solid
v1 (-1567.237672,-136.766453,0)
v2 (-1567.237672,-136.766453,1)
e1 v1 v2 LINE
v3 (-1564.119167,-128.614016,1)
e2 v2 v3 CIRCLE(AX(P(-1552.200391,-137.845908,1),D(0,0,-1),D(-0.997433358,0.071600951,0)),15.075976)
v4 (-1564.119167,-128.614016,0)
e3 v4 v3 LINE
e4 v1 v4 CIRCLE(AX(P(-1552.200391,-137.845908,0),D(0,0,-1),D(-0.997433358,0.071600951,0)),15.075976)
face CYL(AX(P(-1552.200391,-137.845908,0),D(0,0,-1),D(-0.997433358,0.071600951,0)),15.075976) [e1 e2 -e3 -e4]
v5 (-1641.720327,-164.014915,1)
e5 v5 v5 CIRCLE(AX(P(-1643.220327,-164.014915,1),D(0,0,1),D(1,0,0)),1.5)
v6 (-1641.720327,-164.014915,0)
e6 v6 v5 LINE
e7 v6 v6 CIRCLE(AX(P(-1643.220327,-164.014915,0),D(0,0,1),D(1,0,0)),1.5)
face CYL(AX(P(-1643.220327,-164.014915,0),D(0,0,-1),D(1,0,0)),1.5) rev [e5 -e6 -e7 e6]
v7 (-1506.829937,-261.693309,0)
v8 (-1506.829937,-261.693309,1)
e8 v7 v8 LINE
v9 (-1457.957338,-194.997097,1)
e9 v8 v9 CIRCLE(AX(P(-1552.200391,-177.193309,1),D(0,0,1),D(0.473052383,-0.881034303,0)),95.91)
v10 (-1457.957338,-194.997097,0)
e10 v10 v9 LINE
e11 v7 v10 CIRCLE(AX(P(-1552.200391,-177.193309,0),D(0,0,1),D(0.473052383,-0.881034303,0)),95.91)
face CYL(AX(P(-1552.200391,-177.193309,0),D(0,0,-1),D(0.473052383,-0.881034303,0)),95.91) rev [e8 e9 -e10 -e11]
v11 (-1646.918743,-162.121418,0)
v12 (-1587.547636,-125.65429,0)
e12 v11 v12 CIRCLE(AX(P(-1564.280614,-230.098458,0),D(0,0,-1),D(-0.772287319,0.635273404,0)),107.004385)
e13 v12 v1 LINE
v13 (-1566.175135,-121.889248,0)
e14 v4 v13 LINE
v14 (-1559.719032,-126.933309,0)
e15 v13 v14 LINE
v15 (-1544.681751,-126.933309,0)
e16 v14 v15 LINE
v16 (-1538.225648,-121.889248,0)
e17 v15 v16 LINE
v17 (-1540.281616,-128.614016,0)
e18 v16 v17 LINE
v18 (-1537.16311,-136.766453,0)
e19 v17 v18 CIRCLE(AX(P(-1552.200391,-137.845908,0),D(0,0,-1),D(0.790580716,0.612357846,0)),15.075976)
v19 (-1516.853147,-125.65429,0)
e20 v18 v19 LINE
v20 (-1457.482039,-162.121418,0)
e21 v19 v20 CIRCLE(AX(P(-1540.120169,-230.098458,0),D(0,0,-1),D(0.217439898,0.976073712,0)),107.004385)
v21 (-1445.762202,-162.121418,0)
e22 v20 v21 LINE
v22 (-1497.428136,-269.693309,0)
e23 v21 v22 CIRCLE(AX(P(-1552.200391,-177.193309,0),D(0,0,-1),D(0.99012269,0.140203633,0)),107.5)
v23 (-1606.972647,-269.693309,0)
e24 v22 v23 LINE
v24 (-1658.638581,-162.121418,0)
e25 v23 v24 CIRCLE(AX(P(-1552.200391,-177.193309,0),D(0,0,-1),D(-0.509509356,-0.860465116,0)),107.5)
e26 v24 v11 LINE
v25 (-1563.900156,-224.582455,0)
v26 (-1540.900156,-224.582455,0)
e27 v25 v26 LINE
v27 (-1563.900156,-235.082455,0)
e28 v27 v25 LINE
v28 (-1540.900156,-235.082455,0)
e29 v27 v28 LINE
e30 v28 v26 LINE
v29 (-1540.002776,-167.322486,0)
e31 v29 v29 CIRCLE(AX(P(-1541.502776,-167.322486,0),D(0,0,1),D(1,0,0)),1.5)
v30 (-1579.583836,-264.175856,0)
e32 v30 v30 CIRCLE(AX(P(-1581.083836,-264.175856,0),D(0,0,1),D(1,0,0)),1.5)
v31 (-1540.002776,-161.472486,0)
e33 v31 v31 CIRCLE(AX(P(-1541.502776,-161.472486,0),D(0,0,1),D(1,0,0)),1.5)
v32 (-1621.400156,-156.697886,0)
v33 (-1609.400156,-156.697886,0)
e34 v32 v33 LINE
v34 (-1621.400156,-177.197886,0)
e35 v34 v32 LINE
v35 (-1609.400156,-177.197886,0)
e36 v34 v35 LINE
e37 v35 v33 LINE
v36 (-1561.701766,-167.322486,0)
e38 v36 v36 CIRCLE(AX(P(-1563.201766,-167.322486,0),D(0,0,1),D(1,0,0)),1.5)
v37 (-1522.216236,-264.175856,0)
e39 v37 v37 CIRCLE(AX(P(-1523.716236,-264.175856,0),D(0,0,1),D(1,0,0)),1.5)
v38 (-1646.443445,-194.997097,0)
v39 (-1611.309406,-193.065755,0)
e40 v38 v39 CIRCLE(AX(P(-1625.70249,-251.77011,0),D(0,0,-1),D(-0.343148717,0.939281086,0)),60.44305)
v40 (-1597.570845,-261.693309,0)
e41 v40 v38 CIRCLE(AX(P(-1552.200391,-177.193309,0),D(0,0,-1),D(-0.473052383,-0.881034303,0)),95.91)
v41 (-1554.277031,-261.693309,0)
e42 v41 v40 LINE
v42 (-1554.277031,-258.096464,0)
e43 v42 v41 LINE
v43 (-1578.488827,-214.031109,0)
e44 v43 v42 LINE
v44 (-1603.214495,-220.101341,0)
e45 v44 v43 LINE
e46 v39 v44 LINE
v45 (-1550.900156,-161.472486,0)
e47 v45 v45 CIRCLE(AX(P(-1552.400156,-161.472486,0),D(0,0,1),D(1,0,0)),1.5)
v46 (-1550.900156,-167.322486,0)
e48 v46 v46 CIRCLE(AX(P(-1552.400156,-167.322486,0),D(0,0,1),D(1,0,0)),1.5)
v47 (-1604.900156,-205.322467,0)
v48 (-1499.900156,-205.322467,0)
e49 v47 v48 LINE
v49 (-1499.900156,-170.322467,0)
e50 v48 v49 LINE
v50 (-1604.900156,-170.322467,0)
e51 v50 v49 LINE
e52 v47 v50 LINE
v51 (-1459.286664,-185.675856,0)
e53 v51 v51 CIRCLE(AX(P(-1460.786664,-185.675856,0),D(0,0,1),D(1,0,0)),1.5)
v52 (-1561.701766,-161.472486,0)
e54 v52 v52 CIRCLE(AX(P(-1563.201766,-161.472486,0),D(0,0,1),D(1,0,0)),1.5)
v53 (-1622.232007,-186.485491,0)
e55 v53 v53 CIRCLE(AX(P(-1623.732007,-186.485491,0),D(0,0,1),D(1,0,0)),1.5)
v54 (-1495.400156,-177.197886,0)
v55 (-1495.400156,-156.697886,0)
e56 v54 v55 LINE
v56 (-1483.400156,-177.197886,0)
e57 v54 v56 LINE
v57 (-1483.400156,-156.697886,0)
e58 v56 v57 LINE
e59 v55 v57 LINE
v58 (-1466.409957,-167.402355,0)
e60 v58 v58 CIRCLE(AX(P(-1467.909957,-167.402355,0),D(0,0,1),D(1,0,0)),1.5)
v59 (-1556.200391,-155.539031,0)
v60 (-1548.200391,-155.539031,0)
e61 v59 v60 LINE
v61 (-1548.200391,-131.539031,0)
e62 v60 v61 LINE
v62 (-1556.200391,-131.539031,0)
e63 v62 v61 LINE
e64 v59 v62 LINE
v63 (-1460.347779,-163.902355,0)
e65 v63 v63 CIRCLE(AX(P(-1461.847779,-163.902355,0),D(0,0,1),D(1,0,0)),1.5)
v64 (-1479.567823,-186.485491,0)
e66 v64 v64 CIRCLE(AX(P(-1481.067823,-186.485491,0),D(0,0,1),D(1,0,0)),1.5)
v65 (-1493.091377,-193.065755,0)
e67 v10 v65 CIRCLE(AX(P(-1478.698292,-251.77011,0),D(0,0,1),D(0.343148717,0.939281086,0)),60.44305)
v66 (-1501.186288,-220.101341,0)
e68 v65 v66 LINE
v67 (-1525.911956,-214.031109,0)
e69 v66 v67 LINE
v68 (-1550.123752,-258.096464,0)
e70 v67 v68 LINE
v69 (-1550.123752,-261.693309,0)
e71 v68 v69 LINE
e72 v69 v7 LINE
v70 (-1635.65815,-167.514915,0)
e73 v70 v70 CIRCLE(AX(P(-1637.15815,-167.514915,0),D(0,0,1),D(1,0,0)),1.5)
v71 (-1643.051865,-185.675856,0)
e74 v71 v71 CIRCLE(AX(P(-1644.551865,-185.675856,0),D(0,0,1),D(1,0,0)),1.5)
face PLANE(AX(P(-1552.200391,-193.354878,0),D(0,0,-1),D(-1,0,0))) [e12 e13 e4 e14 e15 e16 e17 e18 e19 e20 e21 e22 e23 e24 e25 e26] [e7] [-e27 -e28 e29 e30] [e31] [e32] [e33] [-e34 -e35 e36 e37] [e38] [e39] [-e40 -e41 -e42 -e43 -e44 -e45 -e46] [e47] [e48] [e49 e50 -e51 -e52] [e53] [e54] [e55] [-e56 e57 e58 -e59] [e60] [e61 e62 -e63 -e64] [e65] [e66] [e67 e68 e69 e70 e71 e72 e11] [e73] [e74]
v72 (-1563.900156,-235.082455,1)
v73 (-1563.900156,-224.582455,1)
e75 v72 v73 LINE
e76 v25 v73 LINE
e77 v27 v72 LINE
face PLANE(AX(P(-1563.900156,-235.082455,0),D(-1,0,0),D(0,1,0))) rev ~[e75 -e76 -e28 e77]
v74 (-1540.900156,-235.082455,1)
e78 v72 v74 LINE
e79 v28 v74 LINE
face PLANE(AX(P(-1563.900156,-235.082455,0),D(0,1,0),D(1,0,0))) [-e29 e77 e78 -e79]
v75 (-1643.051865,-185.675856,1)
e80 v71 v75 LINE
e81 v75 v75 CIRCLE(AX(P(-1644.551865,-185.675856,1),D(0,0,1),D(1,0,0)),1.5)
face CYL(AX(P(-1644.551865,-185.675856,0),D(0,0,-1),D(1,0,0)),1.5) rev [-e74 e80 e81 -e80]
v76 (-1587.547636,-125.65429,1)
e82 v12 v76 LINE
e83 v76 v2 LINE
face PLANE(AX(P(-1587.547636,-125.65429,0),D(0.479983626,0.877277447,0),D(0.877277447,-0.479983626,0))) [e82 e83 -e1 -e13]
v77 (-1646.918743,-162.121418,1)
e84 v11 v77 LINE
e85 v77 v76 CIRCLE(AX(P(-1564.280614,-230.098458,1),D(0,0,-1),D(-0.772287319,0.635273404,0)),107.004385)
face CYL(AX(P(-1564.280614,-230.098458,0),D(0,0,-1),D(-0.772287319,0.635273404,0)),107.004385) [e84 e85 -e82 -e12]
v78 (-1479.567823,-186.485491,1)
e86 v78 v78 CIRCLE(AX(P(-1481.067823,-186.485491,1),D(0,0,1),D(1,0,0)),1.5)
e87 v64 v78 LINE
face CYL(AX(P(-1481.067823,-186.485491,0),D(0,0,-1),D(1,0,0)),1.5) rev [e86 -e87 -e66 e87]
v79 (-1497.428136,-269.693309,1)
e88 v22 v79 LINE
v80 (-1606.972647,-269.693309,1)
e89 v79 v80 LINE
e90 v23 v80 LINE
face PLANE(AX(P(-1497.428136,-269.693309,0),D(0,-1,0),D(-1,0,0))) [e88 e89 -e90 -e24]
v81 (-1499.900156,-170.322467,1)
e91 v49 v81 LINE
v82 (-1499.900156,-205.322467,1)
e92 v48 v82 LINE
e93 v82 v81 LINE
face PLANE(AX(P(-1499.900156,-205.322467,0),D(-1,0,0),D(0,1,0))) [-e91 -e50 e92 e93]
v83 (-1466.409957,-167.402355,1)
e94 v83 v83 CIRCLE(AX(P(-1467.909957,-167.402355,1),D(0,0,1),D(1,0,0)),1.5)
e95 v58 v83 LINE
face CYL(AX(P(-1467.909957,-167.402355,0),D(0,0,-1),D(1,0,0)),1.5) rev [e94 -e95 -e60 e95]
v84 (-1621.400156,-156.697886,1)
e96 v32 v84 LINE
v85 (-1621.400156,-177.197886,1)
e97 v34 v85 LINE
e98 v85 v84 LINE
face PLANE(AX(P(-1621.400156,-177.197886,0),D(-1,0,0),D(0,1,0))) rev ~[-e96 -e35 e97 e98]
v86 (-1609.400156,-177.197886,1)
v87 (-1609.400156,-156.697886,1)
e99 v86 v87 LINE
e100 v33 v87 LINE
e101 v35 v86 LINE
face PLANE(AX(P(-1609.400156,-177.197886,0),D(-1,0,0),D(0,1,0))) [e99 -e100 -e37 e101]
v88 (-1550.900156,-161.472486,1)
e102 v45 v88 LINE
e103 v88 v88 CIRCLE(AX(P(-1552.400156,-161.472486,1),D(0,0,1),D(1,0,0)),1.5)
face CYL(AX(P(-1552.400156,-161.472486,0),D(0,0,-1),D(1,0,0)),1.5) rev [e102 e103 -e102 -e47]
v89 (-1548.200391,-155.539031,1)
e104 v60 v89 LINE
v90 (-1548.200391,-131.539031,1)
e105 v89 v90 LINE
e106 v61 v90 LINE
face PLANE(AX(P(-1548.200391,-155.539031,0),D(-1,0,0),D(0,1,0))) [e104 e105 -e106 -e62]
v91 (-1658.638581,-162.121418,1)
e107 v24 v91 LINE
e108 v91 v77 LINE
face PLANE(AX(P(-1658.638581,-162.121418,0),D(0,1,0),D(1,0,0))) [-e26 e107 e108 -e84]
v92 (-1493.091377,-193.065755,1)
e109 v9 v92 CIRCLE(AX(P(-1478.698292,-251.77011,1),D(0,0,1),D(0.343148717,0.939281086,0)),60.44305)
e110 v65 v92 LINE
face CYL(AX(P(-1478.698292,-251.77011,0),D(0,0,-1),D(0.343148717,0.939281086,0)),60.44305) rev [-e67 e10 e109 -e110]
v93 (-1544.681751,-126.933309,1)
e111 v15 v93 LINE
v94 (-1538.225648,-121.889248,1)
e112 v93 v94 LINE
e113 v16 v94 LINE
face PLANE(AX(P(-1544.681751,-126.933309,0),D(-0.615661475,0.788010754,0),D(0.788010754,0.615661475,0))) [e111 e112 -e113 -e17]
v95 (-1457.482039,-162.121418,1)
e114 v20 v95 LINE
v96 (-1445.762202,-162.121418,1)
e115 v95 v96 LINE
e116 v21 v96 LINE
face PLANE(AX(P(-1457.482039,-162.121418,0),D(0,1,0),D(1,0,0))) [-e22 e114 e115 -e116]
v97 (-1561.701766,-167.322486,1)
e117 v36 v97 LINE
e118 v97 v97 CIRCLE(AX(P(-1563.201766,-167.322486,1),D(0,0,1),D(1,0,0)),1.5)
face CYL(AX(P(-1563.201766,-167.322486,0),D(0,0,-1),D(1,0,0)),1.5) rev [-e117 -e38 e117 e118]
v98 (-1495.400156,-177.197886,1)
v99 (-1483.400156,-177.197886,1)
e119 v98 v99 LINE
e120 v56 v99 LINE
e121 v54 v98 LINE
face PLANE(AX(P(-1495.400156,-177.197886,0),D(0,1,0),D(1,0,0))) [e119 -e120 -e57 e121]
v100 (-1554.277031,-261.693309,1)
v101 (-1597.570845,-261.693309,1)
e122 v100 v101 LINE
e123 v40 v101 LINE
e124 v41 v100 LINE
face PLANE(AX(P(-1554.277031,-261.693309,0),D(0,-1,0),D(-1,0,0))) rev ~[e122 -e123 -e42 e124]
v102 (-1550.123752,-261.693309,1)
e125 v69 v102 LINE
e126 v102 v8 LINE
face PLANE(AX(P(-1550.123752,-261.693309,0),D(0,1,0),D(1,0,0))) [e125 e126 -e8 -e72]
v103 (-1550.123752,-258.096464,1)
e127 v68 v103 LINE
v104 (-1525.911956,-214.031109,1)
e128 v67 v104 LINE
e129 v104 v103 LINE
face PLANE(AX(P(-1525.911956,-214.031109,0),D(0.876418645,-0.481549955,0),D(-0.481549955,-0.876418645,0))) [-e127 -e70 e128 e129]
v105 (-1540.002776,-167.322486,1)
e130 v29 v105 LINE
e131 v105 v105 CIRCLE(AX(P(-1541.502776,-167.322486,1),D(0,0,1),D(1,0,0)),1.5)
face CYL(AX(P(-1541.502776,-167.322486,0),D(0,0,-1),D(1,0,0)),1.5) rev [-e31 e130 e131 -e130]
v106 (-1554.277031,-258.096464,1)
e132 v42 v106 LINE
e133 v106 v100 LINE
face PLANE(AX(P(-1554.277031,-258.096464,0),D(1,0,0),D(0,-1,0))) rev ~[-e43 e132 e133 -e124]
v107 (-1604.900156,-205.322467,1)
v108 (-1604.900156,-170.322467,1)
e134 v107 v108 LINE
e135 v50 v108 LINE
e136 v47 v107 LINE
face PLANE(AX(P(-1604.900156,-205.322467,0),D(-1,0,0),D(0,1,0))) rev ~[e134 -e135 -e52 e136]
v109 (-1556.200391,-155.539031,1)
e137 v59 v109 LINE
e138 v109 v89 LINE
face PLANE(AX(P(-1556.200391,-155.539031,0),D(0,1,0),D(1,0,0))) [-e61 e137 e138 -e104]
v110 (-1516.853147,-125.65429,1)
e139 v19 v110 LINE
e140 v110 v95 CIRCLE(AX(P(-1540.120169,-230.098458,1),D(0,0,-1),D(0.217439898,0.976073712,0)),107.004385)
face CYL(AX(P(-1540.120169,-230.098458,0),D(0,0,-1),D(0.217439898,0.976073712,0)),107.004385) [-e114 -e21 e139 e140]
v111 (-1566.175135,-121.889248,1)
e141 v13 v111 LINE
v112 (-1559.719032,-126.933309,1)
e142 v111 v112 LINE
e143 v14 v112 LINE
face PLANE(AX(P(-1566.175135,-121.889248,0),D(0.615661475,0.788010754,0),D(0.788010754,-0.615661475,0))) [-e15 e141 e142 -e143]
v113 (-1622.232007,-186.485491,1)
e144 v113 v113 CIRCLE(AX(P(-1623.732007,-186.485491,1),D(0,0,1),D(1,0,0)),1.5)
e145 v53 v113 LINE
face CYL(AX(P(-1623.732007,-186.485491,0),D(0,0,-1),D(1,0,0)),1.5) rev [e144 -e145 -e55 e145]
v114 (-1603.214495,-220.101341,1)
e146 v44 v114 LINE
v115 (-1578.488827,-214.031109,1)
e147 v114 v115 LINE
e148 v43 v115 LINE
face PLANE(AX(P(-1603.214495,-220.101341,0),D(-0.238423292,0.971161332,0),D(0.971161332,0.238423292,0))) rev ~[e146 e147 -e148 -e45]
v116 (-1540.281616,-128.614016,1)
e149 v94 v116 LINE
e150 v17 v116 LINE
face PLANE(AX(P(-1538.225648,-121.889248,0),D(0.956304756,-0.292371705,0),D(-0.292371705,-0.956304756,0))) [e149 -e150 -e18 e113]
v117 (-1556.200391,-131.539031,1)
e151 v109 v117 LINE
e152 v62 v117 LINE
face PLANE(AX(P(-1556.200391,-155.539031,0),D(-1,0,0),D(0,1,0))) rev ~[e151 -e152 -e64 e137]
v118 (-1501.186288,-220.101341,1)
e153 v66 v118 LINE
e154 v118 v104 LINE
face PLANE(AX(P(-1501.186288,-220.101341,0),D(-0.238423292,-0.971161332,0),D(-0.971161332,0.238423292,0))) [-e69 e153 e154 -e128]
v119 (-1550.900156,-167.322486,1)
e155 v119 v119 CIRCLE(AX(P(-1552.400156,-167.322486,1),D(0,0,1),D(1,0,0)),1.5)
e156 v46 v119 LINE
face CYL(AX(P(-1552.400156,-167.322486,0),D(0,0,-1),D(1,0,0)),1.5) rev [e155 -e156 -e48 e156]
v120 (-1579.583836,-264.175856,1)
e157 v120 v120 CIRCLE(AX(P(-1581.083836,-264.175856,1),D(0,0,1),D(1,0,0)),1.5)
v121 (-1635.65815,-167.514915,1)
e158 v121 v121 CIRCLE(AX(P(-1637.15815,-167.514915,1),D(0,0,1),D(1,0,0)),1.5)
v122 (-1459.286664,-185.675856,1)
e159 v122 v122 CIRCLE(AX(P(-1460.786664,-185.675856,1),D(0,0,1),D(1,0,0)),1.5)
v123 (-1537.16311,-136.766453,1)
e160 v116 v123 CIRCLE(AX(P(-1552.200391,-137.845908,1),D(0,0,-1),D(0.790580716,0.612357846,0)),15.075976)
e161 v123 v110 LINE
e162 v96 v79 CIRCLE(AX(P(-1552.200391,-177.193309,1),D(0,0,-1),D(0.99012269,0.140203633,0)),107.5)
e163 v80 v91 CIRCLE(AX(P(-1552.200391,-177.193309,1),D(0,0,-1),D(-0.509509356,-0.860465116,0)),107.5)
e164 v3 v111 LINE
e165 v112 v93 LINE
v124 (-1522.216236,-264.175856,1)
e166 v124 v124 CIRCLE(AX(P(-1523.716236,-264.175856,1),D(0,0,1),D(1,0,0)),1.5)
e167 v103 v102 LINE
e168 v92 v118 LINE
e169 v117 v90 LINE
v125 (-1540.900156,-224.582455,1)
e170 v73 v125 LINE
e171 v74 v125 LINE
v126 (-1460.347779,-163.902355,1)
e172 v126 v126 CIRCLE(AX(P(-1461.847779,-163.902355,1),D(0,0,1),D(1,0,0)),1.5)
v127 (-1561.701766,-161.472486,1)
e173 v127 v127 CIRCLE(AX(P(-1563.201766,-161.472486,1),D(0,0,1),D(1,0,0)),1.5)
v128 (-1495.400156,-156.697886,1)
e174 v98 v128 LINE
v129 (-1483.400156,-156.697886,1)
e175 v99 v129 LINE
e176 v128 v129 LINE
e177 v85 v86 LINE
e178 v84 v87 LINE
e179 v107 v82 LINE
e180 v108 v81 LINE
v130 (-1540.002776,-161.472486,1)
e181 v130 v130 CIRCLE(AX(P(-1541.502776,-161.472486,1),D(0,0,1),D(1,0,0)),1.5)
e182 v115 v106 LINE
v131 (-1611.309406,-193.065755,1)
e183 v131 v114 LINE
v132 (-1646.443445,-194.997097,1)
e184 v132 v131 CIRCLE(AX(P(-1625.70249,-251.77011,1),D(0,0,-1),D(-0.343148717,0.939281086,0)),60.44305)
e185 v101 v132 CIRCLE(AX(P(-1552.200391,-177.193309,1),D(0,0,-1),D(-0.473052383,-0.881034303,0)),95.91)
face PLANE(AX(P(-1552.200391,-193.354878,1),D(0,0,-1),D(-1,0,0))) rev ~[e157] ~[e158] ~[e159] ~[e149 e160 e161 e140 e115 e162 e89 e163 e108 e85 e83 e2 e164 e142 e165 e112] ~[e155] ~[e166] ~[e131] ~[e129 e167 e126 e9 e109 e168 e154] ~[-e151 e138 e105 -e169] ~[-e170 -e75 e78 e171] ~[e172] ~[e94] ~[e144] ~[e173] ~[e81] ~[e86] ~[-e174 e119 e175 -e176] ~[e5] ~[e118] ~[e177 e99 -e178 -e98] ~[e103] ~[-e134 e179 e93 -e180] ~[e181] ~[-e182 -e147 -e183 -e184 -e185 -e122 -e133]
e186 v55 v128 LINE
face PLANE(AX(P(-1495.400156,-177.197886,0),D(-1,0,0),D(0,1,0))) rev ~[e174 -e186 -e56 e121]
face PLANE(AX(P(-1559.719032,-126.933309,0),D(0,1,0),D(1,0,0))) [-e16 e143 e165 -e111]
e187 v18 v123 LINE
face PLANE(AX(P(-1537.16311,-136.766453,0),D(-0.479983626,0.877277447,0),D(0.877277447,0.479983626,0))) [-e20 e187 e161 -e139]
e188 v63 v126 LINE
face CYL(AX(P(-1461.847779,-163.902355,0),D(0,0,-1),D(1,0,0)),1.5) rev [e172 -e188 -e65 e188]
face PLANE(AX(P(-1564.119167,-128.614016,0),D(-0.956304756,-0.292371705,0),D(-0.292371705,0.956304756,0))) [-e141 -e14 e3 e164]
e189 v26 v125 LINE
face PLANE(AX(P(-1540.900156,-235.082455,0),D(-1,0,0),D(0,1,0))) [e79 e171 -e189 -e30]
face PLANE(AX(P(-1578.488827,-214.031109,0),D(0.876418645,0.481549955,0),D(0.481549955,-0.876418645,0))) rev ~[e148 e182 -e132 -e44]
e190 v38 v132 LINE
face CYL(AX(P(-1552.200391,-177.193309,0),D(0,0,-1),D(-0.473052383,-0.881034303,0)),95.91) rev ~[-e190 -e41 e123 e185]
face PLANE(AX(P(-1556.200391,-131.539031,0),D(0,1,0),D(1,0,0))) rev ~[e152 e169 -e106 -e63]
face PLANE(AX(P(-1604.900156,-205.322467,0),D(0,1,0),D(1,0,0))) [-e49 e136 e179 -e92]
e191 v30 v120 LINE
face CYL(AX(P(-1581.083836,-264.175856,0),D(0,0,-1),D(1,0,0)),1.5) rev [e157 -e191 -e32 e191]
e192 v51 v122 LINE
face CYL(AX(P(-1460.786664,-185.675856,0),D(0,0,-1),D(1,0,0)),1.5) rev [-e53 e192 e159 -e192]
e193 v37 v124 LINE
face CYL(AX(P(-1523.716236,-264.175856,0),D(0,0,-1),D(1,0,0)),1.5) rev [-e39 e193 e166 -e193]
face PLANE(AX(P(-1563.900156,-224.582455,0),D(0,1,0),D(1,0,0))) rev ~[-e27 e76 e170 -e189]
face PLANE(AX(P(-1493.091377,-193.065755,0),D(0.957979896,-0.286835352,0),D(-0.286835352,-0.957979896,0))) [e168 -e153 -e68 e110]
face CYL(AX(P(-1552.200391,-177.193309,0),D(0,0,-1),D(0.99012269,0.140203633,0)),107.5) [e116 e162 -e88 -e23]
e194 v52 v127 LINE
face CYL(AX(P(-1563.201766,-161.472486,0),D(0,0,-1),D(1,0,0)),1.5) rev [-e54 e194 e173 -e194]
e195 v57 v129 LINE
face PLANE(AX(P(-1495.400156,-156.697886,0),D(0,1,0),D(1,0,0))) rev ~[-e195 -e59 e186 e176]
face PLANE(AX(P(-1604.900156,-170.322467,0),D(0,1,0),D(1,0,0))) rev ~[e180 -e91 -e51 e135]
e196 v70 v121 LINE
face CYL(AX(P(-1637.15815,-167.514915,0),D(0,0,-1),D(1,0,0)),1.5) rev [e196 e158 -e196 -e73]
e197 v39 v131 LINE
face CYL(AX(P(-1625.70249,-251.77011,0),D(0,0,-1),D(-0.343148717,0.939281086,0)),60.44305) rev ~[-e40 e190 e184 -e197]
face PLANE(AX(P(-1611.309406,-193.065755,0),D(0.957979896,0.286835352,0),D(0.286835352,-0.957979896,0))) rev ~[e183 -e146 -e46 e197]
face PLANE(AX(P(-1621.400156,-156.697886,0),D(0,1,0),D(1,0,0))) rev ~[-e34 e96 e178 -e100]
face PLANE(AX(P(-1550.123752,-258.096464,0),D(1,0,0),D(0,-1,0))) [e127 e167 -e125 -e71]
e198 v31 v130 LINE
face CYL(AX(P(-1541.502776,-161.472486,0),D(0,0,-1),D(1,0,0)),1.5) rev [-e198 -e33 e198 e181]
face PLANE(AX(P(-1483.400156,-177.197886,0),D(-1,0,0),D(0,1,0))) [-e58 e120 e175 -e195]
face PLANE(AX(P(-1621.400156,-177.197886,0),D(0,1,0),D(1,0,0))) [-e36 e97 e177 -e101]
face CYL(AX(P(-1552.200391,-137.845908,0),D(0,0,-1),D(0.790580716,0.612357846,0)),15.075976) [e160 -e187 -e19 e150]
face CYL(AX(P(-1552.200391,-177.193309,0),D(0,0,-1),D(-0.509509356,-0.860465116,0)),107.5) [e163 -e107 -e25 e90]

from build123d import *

# Parameters (mm, degrees)
CROQUIS1_R              = 1.5
CROQUIS1_W              = 23
CROQUIS1_H              = 10.5
CROQUIS1_W_2            = 12
CROQUIS1_H_2            = 20.5
CROQUIS1_W_3            = 8
CROQUIS1_H_3            = 24
CROQUIS1_W_4            = 105
CROQUIS1_H_4            = 35
SALIENTE_EXTRUIR1_DEPTH = 1


with BuildPart() as part:
    # Croquis1 → Saliente-Extruir1 (new body)
    with BuildSketch(Plane.XY):
        with BuildLine():
            Line((-1537.163110479, -136.766453489), (-1516.853146696, -125.6542904))
            ThreePointArc((-1516.853146696, -125.6542904), (-1484.11625712, -138.920059749), (-1457.482039397, -162.121417938))
            Line((-1457.482039397, -162.121417938), (-1445.993940748, -162.121417938))
            Line((-1445.993940748, -162.121417938), (-1445.762202271, -162.121417938))
            ThreePointArc((-1445.762202271, -162.121417938), (-1455.297709344, -223.734904974), (-1497.428135695, -269.693308507))
            Line((-1497.428135695, -269.693308507), (-1552.200391445, -269.693308507))
            Line((-1552.200391445, -269.693308507), (-1606.972647196, -269.693308507))
            ThreePointArc((-1606.972647196, -269.693308507), (-1649.103073546, -223.734904974), (-1658.638580619, -162.121417938))
            Line((-1658.638580619, -162.121417938), (-1646.918743493, -162.121417938))
            ThreePointArc((-1646.918743493, -162.121417938), (-1620.284525771, -138.920059749), (-1587.547636195, -125.6542904))
            Line((-1587.547636195, -125.6542904), (-1567.237672411, -136.766453489))
            ThreePointArc((-1567.237672411, -136.766453489), (-1566.281329143, -132.459607123), (-1564.119167026, -128.614015745))
            Line((-1564.119167026, -128.614015745), (-1566.175134815, -121.889248119))
            Line((-1566.175134815, -121.889248119), (-1559.719031928, -126.933308507))
            Line((-1559.719031928, -126.933308507), (-1544.681750962, -126.933308507))
            Line((-1544.681750962, -126.933308507), (-1538.225648075, -121.889248119))
            Line((-1538.225648075, -121.889248119), (-1540.281615865, -128.614015745))
            ThreePointArc((-1540.281615865, -128.614015745), (-1538.119453748, -132.459607123), (-1537.163110479, -136.766453489))
        make_face()
        with Locations((-1523.716235661, -264.175855838)):
            Circle(CROQUIS1_R, mode=Mode.SUBTRACT)
        with Locations((-1644.551864676, -185.675855838)):
            Circle(CROQUIS1_R, mode=Mode.SUBTRACT)
        with Locations((-1541.502776276, -167.322485879)):
            Circle(CROQUIS1_R, mode=Mode.SUBTRACT)
        with Locations((-1552.400156362, -167.322485879)):
            Circle(CROQUIS1_R, mode=Mode.SUBTRACT)
        with Locations((-1563.201766149, -167.322485879)):
            Circle(CROQUIS1_R, mode=Mode.SUBTRACT)
        with Locations((-1552.400156362, -161.472485879)):
            Circle(CROQUIS1_R, mode=Mode.SUBTRACT)
        with Locations((-1460.786663592, -185.675855838)):
            Circle(CROQUIS1_R, mode=Mode.SUBTRACT)
        with Locations((-1461.847779246, -163.902354835)):
            Circle(CROQUIS1_R, mode=Mode.SUBTRACT)
        with Locations((-1643.220327484, -164.014915474)):
            Circle(CROQUIS1_R, mode=Mode.SUBTRACT)
        with Locations((-1563.201766149, -161.472485879)):
            Circle(CROQUIS1_R, mode=Mode.SUBTRACT)
        with Locations((-1541.502776276, -161.472485879)):
            Circle(CROQUIS1_R, mode=Mode.SUBTRACT)
        with Locations((-1581.083835661, -264.175855838)):
            Circle(CROQUIS1_R, mode=Mode.SUBTRACT)
        with Locations((-1637.158149658, -167.514915474)):
            Circle(CROQUIS1_R, mode=Mode.SUBTRACT)
        with Locations((-1467.909957073, -167.402354835)):
            Circle(CROQUIS1_R, mode=Mode.SUBTRACT)
        with Locations((-1623.732006953, -186.485491114)):
            Circle(CROQUIS1_R, mode=Mode.SUBTRACT)
        with Locations((-1481.067822966, -186.485491114)):
            Circle(CROQUIS1_R, mode=Mode.SUBTRACT)
        with BuildLine():
            Line((-1550.123752332, -261.693308507), (-1506.829937403, -261.693308507))
            ThreePointArc((-1506.829937403, -261.693308507), (-1474.837098768, -233.882364295), (-1457.957337533, -194.997097128))
            ThreePointArc((-1457.957337533, -194.997097128), (-1475.380705089, -191.41817703), (-1493.091376833, -193.065754767))
            Line((-1493.091376833, -193.065754767), (-1501.186287871, -220.101341452))
            Line((-1501.186287871, -220.101341452), (-1525.911955882, -214.031108862))
            Line((-1525.911955882, -214.031108862), (-1550.123752332, -258.096464053))
            Line((-1550.123752332, -258.096464053), (-1550.123752332, -261.693308507))
        make_face(mode=Mode.SUBTRACT)
        with BuildLine():
            Line((-1578.488827009, -214.031108862), (-1554.277030559, -258.096464053))
            Line((-1554.277030559, -258.096464053), (-1554.277030559, -261.693308507))
            Line((-1554.277030559, -261.693308507), (-1597.570845488, -261.693308507))
            ThreePointArc((-1597.570845488, -261.693308507), (-1629.563684123, -233.882364295), (-1646.443445358, -194.997097128))
            ThreePointArc((-1646.443445358, -194.997097128), (-1629.020077802, -191.41817703), (-1611.309406057, -193.065754767))
            Line((-1611.309406057, -193.065754767), (-1603.21449502, -220.101341452))
            Line((-1603.21449502, -220.101341452), (-1578.488827009, -214.031108862))
        make_face(mode=Mode.SUBTRACT)
        with Locations((-1552.400156362, -229.832455111)):
            Rectangle(CROQUIS1_W, CROQUIS1_H, mode=Mode.SUBTRACT)
        with Locations((-1489.400156362, -166.947886235)):
            Rectangle(CROQUIS1_W_2, CROQUIS1_H_2, mode=Mode.SUBTRACT)
        with Locations((-1615.400156362, -166.947886235)):
            Rectangle(CROQUIS1_W_2, CROQUIS1_H_2, mode=Mode.SUBTRACT)
        with Locations((-1552.200391445, -143.53903119)):
            Rectangle(CROQUIS1_W_3, CROQUIS1_H_3, mode=Mode.SUBTRACT)
        with Locations((-1552.400156362, -187.822466505)):
            Rectangle(CROQUIS1_W_4, CROQUIS1_H_4, mode=Mode.SUBTRACT)
    extrude(amount=SALIENTE_EXTRUIR1_DEPTH)


solid = part.part
